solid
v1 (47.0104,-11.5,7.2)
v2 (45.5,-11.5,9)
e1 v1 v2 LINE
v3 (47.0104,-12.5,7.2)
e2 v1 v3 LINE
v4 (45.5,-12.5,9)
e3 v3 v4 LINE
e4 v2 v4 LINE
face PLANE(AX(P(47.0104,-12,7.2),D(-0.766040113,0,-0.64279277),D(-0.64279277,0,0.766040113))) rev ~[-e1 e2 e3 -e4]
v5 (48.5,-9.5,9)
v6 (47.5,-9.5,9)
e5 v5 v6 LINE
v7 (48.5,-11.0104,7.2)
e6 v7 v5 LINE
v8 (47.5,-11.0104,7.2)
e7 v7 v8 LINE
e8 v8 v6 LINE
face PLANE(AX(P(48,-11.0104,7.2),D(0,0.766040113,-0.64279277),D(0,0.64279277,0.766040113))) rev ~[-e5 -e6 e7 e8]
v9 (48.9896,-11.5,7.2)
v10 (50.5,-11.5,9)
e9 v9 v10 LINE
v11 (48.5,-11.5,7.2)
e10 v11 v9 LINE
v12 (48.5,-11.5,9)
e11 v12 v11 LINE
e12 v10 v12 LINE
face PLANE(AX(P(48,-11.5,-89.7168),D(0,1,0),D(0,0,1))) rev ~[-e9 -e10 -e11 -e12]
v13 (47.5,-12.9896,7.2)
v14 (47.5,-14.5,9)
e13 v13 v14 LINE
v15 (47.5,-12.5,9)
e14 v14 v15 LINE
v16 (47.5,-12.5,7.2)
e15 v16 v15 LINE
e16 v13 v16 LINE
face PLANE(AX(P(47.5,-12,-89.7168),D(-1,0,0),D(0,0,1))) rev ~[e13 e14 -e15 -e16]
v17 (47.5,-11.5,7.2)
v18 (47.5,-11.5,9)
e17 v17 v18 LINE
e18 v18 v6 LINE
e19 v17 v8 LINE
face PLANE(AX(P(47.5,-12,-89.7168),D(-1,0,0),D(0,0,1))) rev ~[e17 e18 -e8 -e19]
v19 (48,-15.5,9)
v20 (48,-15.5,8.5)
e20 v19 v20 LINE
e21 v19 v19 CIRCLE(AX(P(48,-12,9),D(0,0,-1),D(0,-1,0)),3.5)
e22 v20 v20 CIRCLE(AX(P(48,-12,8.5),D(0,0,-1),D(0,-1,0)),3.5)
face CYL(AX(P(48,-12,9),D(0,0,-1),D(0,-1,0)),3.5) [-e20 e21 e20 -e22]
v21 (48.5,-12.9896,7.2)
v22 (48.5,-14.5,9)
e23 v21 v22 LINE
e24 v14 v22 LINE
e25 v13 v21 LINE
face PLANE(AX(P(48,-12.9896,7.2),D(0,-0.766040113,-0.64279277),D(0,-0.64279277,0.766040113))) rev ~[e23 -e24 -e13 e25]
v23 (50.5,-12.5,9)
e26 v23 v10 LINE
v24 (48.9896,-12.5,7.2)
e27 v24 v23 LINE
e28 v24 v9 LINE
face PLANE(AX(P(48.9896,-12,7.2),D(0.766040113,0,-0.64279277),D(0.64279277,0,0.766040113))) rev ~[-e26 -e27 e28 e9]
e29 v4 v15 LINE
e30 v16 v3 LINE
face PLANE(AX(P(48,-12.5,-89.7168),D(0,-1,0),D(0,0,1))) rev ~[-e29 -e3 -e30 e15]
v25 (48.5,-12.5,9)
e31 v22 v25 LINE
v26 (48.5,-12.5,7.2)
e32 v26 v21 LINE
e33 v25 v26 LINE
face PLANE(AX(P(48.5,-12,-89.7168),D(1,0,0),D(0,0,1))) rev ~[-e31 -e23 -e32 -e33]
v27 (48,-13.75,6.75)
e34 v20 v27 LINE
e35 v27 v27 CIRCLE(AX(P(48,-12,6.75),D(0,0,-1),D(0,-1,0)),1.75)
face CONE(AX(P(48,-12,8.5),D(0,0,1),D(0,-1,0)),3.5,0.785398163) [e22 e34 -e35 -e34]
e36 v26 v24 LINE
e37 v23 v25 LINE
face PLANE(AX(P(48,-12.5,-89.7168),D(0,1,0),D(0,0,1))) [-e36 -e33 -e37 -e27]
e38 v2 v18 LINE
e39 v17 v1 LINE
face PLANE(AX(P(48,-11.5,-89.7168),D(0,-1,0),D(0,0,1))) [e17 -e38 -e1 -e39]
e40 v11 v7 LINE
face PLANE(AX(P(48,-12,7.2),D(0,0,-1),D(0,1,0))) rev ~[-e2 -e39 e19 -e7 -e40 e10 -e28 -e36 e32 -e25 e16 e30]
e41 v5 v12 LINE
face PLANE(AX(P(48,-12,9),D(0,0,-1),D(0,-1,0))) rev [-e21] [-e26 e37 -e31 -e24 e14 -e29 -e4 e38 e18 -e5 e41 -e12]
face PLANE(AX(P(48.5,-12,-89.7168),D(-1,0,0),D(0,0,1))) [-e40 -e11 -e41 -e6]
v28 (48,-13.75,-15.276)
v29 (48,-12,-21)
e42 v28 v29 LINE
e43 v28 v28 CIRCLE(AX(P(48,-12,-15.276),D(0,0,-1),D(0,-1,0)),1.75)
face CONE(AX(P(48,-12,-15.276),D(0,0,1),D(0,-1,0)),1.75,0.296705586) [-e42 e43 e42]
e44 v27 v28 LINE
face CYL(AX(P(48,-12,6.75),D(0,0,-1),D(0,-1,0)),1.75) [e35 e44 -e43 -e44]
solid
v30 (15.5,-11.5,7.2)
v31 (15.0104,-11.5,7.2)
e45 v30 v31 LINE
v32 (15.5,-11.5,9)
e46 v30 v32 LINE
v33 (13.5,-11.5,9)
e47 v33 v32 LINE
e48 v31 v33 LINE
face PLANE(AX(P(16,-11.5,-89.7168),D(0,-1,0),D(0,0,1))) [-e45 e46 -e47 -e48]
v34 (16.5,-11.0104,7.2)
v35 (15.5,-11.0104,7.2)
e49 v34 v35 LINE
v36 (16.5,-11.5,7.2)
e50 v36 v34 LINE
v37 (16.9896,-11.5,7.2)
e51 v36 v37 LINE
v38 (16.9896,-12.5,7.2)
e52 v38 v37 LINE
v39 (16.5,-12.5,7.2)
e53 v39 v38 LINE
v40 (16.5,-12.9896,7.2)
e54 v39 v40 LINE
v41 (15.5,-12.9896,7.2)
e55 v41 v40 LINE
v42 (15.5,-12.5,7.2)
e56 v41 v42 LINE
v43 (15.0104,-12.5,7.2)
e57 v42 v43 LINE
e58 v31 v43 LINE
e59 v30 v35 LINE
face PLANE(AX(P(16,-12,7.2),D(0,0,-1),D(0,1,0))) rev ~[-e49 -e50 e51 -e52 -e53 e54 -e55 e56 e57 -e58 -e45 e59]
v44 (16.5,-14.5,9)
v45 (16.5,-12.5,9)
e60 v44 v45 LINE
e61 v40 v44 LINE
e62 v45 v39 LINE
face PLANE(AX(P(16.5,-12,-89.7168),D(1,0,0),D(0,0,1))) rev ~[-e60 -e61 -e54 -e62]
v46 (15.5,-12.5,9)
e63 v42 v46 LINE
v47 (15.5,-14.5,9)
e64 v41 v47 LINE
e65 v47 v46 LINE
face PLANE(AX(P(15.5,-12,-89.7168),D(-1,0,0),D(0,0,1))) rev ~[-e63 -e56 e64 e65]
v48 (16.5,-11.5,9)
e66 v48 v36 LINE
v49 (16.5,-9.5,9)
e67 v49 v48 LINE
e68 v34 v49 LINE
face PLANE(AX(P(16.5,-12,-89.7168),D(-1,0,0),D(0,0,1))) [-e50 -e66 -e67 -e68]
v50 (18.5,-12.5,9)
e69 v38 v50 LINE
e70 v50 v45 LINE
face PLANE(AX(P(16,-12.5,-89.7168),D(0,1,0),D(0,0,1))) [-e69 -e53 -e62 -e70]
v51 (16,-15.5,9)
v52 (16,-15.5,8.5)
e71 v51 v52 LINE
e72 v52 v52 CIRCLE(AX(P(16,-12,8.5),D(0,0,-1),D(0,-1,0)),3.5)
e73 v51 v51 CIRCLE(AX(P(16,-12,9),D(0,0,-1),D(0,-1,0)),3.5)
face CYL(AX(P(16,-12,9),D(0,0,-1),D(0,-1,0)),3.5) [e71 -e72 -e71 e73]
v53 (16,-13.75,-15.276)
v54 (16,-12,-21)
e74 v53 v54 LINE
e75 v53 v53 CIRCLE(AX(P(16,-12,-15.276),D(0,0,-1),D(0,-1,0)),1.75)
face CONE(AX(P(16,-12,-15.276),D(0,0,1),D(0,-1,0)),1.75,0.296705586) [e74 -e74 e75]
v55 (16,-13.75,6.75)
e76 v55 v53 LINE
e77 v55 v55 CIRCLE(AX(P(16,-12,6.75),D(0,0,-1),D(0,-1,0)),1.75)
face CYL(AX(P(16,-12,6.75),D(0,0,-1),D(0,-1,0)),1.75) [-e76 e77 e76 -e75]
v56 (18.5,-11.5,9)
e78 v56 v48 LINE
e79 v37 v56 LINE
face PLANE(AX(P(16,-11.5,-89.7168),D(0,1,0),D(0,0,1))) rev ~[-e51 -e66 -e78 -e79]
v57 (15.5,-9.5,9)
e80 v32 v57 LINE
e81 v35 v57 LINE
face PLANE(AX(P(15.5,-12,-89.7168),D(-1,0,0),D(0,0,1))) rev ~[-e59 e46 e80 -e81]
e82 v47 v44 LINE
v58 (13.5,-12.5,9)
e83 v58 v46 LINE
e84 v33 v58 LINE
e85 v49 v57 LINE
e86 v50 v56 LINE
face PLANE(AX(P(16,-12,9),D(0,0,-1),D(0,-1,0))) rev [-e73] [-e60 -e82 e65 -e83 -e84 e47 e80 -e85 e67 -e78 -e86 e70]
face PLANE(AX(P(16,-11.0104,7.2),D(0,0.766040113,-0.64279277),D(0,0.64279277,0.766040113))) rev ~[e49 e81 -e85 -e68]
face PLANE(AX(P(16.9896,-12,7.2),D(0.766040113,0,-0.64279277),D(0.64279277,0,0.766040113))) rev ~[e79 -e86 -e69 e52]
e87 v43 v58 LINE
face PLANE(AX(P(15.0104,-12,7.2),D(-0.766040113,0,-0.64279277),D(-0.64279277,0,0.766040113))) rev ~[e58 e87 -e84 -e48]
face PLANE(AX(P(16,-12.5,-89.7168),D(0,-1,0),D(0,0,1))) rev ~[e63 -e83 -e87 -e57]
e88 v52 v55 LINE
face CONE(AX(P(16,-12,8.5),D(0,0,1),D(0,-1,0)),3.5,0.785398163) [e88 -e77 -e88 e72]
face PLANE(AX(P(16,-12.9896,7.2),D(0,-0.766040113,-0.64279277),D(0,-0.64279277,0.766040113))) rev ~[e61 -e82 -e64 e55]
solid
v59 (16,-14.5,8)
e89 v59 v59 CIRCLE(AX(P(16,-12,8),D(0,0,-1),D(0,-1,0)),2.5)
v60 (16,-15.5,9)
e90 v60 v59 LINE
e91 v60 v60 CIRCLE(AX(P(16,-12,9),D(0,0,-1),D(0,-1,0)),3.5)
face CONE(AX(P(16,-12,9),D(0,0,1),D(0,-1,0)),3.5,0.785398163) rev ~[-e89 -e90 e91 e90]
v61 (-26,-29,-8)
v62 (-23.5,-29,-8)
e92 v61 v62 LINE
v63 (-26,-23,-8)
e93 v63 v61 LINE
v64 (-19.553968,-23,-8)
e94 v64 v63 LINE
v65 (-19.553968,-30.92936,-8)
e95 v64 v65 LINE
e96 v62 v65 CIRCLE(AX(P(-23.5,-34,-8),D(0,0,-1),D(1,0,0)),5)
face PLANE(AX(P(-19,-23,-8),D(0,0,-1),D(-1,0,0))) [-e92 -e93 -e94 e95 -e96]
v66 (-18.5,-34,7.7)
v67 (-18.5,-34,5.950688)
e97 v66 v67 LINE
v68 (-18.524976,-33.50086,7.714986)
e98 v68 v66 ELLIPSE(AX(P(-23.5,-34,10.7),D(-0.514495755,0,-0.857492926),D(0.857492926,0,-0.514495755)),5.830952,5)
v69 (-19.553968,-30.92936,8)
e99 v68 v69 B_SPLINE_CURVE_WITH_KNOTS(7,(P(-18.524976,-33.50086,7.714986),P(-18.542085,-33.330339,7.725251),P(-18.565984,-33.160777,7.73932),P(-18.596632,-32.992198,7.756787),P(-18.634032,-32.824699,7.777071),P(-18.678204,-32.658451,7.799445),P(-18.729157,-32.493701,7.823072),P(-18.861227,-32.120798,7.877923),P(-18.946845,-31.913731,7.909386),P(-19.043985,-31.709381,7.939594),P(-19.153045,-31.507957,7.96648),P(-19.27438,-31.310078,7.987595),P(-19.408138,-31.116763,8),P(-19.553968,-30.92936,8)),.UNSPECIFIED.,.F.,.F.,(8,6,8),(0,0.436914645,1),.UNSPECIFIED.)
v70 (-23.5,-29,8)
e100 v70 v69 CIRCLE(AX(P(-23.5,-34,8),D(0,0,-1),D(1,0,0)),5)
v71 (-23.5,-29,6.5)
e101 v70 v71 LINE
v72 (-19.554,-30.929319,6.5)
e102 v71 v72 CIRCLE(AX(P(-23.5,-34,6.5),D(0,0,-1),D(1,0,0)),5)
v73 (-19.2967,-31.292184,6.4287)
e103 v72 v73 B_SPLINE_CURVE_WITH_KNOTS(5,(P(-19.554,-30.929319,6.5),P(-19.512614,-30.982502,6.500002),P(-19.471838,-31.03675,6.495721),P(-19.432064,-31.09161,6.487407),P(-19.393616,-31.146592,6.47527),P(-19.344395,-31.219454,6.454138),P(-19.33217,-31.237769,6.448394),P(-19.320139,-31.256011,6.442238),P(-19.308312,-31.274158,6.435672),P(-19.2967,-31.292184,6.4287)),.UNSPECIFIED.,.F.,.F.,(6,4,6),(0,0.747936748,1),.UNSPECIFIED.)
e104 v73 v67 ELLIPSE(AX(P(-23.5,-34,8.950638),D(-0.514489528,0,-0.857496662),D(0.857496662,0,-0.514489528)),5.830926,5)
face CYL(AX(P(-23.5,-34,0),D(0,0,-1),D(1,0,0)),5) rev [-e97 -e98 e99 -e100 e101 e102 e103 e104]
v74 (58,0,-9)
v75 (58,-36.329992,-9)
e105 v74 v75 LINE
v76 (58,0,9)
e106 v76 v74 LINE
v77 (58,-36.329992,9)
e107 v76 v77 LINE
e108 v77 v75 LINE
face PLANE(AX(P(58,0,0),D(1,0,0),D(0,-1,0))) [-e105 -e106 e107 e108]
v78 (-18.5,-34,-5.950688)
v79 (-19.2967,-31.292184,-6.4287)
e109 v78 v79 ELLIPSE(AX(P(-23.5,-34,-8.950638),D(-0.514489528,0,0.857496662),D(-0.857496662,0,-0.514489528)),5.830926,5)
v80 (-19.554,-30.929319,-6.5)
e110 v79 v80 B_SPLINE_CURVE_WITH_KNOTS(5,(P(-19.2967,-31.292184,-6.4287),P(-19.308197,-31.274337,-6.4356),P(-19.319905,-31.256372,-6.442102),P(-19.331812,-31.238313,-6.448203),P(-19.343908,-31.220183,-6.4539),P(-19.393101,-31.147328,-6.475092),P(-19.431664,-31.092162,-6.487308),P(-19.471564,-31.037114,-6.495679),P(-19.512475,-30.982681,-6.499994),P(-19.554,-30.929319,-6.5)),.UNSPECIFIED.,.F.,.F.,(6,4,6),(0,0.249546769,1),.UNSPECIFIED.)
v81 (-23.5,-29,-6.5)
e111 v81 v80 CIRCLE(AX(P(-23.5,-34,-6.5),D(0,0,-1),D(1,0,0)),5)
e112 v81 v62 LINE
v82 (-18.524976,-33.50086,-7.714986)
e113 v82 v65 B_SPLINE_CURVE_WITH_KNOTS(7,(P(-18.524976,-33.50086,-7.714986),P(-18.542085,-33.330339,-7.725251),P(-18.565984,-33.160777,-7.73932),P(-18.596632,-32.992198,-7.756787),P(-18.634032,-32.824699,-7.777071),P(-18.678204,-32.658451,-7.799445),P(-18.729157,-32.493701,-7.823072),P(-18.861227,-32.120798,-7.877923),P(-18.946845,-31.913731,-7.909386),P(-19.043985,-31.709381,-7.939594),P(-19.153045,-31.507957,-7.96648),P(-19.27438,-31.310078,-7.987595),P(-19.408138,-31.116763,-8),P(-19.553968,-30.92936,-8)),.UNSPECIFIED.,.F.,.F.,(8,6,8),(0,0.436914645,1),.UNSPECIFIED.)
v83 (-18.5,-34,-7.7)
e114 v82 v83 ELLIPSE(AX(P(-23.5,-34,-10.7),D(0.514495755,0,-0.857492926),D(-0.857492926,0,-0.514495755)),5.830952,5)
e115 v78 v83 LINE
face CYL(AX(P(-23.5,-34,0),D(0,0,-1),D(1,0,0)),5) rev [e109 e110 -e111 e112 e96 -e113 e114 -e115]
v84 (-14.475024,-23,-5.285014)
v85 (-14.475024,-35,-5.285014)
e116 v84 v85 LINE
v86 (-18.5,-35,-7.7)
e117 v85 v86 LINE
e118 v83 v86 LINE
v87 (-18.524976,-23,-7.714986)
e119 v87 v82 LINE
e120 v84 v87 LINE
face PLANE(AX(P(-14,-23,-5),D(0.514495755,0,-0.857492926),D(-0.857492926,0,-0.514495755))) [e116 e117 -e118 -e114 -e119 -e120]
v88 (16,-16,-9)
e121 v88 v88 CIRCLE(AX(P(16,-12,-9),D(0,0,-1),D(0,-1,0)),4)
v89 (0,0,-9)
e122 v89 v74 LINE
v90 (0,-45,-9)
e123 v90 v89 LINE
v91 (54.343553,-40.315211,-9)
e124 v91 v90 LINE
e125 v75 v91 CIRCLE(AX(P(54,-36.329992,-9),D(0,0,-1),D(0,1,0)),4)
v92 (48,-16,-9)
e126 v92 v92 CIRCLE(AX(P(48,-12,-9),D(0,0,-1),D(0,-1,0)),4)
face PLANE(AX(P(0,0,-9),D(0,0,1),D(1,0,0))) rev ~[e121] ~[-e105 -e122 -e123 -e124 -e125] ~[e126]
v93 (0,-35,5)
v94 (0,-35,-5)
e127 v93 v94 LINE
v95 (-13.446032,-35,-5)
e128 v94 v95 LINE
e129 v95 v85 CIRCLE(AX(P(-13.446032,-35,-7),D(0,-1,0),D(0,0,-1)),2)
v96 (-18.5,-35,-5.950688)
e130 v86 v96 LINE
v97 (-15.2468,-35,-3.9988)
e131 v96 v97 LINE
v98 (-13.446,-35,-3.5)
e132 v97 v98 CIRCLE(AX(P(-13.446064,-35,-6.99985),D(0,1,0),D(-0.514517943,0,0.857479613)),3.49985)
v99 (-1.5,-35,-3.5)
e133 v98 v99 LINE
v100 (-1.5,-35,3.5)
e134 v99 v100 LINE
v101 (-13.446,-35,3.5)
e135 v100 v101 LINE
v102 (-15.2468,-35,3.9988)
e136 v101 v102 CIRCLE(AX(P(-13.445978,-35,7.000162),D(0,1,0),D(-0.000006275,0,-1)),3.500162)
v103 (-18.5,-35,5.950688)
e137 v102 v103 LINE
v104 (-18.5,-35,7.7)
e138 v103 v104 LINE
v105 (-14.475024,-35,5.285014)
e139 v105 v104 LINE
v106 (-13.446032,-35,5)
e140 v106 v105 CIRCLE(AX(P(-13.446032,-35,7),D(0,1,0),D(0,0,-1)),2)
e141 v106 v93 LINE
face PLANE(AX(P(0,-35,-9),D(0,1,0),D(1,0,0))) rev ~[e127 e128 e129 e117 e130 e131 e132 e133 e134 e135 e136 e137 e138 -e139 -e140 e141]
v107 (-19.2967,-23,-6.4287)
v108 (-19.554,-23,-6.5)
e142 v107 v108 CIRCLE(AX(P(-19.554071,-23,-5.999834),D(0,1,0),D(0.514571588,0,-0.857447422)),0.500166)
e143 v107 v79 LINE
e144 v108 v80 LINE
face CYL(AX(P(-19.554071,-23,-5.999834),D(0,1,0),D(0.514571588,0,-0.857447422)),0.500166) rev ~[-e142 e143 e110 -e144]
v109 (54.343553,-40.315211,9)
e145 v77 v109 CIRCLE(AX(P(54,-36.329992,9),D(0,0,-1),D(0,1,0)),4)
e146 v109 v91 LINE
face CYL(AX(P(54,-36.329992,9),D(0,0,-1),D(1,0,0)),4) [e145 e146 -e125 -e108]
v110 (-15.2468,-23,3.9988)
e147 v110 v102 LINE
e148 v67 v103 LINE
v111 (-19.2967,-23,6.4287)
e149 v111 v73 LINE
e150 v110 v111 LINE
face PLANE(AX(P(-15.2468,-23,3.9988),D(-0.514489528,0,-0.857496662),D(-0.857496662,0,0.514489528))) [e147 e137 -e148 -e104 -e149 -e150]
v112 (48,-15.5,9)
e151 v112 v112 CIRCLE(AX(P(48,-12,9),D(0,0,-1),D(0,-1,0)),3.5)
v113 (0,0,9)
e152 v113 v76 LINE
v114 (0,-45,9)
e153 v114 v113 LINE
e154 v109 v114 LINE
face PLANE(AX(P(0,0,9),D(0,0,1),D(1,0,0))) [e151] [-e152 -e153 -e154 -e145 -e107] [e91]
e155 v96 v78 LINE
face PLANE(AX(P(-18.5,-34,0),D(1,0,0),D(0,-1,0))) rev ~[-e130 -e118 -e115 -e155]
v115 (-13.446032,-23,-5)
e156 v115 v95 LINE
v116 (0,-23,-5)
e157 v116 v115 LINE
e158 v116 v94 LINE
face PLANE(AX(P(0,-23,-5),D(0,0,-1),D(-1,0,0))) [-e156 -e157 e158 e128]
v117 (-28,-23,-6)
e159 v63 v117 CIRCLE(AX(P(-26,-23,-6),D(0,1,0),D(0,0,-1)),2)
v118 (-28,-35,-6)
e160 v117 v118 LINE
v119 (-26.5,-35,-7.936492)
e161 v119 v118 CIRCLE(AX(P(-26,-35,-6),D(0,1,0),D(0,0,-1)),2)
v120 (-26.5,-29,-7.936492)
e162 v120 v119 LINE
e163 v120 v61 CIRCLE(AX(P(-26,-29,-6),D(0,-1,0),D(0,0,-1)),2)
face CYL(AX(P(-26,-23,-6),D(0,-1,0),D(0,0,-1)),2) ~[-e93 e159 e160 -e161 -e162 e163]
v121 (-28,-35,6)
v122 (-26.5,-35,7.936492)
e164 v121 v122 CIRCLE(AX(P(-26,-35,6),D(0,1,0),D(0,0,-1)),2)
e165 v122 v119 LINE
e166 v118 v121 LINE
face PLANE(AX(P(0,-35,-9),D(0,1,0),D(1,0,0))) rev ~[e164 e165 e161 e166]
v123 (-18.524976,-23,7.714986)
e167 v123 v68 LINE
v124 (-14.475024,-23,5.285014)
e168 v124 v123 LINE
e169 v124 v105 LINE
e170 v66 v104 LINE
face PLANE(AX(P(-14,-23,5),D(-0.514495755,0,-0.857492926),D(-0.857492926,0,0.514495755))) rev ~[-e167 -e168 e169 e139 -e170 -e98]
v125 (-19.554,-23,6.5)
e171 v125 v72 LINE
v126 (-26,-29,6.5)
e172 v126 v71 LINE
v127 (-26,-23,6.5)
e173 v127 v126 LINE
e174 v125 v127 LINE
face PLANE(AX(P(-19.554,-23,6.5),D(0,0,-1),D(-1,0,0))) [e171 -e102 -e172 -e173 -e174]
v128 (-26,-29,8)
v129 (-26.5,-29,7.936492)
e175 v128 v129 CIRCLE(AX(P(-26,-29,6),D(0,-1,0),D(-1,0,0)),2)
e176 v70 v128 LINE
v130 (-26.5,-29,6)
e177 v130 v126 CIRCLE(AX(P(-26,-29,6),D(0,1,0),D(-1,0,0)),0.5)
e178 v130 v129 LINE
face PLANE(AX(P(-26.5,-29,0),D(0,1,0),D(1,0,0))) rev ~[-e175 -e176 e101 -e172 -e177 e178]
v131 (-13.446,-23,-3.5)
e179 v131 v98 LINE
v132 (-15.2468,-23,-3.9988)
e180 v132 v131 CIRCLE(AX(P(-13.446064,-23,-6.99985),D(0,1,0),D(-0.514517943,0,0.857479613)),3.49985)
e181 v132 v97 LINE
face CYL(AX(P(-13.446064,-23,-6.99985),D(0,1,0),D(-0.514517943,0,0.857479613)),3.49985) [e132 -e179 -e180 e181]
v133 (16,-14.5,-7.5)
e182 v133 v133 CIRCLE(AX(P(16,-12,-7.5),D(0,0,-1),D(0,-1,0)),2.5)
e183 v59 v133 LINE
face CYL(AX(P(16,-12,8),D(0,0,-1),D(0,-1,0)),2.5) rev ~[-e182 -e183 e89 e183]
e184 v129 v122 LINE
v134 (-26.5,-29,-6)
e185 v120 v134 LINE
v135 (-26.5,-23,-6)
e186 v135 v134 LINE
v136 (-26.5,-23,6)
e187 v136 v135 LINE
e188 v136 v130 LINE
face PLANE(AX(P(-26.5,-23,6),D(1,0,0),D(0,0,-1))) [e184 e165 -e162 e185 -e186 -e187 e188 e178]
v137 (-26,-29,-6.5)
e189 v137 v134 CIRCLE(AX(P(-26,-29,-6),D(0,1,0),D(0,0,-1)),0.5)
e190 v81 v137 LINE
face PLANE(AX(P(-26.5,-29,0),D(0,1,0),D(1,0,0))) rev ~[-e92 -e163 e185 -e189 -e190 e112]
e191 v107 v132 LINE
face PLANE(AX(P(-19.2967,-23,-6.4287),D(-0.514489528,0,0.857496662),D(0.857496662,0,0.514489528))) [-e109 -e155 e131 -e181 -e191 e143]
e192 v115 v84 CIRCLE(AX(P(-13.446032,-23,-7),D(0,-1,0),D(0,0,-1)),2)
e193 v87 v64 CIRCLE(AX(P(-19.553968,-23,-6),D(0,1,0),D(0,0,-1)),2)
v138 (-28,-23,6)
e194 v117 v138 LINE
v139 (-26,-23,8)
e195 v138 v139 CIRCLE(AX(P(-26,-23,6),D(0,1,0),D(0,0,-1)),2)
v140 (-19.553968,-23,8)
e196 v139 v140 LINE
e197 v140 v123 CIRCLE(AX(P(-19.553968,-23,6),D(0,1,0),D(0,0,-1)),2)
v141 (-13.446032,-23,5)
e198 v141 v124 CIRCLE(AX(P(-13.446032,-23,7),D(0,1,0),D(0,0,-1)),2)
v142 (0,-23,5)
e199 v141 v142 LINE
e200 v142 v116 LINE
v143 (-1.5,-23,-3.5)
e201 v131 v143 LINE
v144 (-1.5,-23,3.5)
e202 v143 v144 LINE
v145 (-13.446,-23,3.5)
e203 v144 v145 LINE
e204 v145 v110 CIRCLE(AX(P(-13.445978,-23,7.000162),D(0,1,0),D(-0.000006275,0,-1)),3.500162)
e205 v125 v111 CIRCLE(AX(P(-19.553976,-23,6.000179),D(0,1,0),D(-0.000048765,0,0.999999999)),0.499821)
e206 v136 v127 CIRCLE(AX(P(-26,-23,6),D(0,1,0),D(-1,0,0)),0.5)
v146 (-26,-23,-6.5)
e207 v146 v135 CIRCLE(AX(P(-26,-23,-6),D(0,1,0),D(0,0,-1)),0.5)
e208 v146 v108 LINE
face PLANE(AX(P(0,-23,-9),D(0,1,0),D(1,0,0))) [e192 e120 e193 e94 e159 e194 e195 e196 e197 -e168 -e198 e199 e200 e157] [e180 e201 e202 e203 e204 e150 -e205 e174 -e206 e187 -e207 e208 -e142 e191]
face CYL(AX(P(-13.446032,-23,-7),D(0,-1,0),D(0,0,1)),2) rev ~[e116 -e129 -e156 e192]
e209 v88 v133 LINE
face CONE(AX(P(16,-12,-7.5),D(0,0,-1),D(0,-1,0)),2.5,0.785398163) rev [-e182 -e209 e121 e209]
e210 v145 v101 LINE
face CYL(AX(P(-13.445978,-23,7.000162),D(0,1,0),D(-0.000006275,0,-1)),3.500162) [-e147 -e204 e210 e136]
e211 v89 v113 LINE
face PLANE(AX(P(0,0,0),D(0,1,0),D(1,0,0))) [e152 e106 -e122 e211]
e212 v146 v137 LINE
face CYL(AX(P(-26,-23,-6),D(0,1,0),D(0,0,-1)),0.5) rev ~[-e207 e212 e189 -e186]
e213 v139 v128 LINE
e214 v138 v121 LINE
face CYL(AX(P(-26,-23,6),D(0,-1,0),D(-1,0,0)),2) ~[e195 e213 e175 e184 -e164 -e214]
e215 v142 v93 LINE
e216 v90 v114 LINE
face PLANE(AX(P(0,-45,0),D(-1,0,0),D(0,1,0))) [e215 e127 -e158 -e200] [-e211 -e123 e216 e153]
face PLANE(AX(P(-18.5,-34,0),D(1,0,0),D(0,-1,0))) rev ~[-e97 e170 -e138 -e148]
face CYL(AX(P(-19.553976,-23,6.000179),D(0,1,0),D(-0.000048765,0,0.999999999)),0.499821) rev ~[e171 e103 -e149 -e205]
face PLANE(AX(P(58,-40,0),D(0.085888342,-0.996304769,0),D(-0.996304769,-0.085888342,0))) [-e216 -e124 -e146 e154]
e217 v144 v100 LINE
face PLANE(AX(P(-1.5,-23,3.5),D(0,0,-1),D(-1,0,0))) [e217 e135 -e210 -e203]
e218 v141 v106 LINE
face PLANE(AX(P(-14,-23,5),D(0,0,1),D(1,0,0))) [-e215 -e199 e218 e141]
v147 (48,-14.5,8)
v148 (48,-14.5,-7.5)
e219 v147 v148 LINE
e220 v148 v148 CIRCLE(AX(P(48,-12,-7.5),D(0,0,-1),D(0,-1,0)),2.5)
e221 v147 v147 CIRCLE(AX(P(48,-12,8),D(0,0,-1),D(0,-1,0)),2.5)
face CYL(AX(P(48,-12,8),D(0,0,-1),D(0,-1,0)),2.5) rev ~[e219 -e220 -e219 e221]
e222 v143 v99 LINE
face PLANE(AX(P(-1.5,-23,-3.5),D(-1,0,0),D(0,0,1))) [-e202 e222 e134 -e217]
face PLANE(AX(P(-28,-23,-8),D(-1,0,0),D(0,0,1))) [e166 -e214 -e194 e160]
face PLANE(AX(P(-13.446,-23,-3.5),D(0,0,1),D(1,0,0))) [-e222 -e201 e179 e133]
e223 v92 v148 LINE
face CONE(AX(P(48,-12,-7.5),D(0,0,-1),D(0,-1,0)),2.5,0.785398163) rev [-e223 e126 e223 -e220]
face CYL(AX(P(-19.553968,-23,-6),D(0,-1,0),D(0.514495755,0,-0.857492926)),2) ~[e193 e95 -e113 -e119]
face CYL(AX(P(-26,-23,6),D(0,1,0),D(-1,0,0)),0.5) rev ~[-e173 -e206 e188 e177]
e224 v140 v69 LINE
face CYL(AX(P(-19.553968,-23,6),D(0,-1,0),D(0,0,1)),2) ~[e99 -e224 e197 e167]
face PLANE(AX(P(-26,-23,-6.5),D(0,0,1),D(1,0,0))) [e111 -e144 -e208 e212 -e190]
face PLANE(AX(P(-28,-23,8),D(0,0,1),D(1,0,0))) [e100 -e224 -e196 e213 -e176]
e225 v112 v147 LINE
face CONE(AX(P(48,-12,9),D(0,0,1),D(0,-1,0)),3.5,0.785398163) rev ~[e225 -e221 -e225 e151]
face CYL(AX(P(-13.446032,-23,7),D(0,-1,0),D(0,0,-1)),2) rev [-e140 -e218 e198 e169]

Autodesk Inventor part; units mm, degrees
ref_plane "YZ Plane" through (0, 0, 0) normal (1, 0, 0) x (0, 1, 0)
sketch "Sketch1" plane through (0, 0, 0) normal (0, 0, 1) x (1, 0, 0)
  line L0 (0, 0) -> (58, 0)
  line L1 (58, 0) -> (58, -40)
  line L2 (58, -40) -> (0, -45)
  line L3 (0, -45) -> (0, 0)
  dimension "d0" = 45
  dimension "d1" = 58
  dimension "d2" = 40
extrude "Extrusion1" add sketch "Sketch1" along normal mid plane 18
ref_plane "Work Plane1" through (0, -23, -9) normal (0, 1, 0) x (1, 0, 0)
sketch "Sketch2" plane through (0, -23, -9) normal (0, 1, 0) x (1, 0, 0)
  line L0 (0, -4) -> (-14, -4)
  line L1 (-14, -4) -> (-14, -14)
  line L2 (-14, -14) -> (0, -14)
  line L3 (0, -14) -> (0, -4)
  line L4 (-19, -1) -> (-28, -1)
  line L5 (-28, -1) -> (-28, -17)
  line L6 (-28, -17) -> (-19, -17)
  line L7 (-19, -17) -> (-19, -1)
  line L8 (-14, -4) -> (-19, -1)
  line L9 (-14, -14) -> (-19, -17)
  line L10 (0, 0) -> (0, -18) projected
  point P0 (0, -9)
  point P1 (0, -9)
  point P2 (-28, -9)
  point P3 (0, -9)
  dimension "d181" = 90
  dimension "d6" = 14
  dimension "d8" = 16
  dimension "d9" = 10
  dimension "d10" = 9
  dimension "d40" = 5
extrude "Extrusion2" add sketch "Sketch2" against normal blind 12
fillet "Fillet1" radius 2 6 edges at (-28, -29, -8) (-28, -29, 8) (-19, -29, -8) (-14, -29, -5) (-14, -29, 5) (-19, -29, 8)
sketch "Sketch5" plane through (0, -23, -9) normal (0, 1, 0) x (1, 0, 0)
  arc A0 (-19.554, -17) -> (-18.525, -16.715) centre (-19.554, -15) ccw projected
  line L0 (-18.525, -16.715) -> (-14.475, -14.285) projected
  arc A1 (-13.446, -14) -> (-14.475, -14.285) centre (-13.446, -16) ccw projected
  line L1 (-13.446, -14) -> (0, -14) projected
  line L2 (0, -4) -> (0, -14) projected
  line L3 (0, -4) -> (-13.446, -4) projected
  arc A2 (-14.475, -3.715) -> (-13.446, -4) centre (-13.446, -2) ccw projected
  line L4 (-14.475, -3.715) -> (-18.525, -1.285) projected
  arc A3 (-18.525, -1.285) -> (-19.554, -1) centre (-19.554, -3) ccw projected
  line L5 (-19.554, -1) -> (-26, -1) projected
  arc A4 (-26, -1) -> (-28, -3) centre (-26, -3) ccw projected
  line L6 (-28, -3) -> (-28, -15) projected
  arc A5 (-28, -15) -> (-26, -17) centre (-26, -15) ccw projected
  line L7 (-26, -17) -> (-19.554, -17) projected
  line L8 (-26, -2.5) -> (-19.554, -2.5)
  arc A6 (-19.2967, -2.5713) -> (-19.554, -2.5) centre (-19.554, -3) ccw
  line L9 (-19.2967, -2.5713) -> (-15.2468, -5.0012)
  arc A7 (-15.2468, -5.0012) -> (-13.446, -5.5) centre (-13.446, -2) ccw
  line L10 (-13.446, -5.5) -> (-1.5, -5.5)
  line L11 (-1.5, -5.5) -> (-1.5, -12.5)
  line L12 (-1.5, -12.5) -> (-13.446, -12.5)
  arc A8 (-13.446, -12.5) -> (-15.2468, -12.9988) centre (-13.446, -16) ccw
  line L13 (-15.2468, -12.9988) -> (-19.2967, -15.4287)
  arc A9 (-19.554, -15.5) -> (-19.2967, -15.4287) centre (-19.554, -15) ccw
  line L14 (-19.554, -15.5) -> (-26, -15.5)
  arc A10 (-26.5, -15) -> (-26, -15.5) centre (-26, -15) ccw
  line L15 (-26.5, -15) -> (-26.5, -3)
  arc A11 (-26, -2.5) -> (-26.5, -3) centre (-26, -3) ccw
  point P0 (0, -9)
  dimension "d18" = 1.5
extrude "Extrusion4" cut sketch "Sketch5" against normal through all contours L8 A6 L9 A7 L10 L11 L12 A8 L13 A9 L14 A10 L15 A11
sketch "Sketch4" plane through (0, 0, 0) normal (0, 0, 1) x (1, 0, 0)
  line L0 (-26.5, -23) -> (-26.5, -35) projected
  line L1 (-26.5, -29) -> (-23.5, -29)
  arc A0 (-18.5, -34) -> (-23.5, -29) centre (-23.5, -34) ccw
  line L2 (-18.5, -34) -> (-18.5, -35)
  line L3 (-18.5, -35) -> (-26.5, -35)
  line L4 (-26.5, -35) -> (-26.5, -29)
  line L5 (-26, -23) -> (-19.554, -23) projected
  point P0 (0, 0)
  dimension "d21" = 6
  dimension "d22" = 8
  dimension "d23" = 5
extrude "Extrusion5" cut sketch "Sketch4" along normal through all both and the other way through all
sketch "Sketch6" plane through (0, 0, 9) normal (0, 0, 1) x (1, 0, 0)
  line L0 (0, 0) -> (58, 0) projected
  line L1 (0, -45) -> (0, 0) projected
  line L2 (16, -12) -> (48, -12)
  dimension "d26" = 12
  dimension "d27" = 32
  dimension "d28" = 16
hole "Hole1" at (16, -12, 9) at (48, -12, 9) direction (0, 0, -1) diameter 5 end through all countersink diameter 7 countersink angle 90
chamfer "Chamfer1" distance 1.5 angle 45 2 edges at (16, -9.5, -9) (48, -9.5, -9)
fillet "Fillet2" radius 4 1 edges at (58, -40, 0)
ref_plane "Work Plane2" through (16, -12, -89.7168) normal (-1, 0, 0) x (0, 0, 1)
sketch "Sketch7" plane through (16, -12, -89.7168) normal (-1, 0, 0) x (0, 0, 1)
  line L0 (98.7168, 3.5) -> (98.7168, -3.5) projected
  line L1 (98.7168, -4.2) -> (98.7168, 0.7) construction
  line L2 (102.1168, 0) -> (68.7168, 0)
  line L3 (98.7168, 0) -> (98.7168, -3.5)
  line L4 (98.7168, -3.5) -> (98.2168, -3.5)
  line L5 (98.2168, -3.5) -> (96.4668, -1.75)
  line L6 (96.4668, -1.75) -> (74.4408, -1.75)
  line L7 (74.4408, -1.75) -> (68.7168, 0)
  point P0 (89.7168, 12)
  point P1 (74.4408, 0)
  dimension "d42" = 3.5
  dimension "d43" = 7
  dimension "d44" = 0.5
  dimension "d45" = 45
  dimension "d46" = 30
  dimension "d47" = 17
  dimension "d48" = 22.026
revolve "Revolution1" add sketch "Sketch7" angle 360 about axis through (16, -12, 12.4) along (0, 0, -1) separate body
sketch "Sketch8" plane through (16, -12, -89.7168) normal (-1, 0, 0) x (0, 0, 1)
  line L0 (98.7168, 3.5) -> (98.7168, -3.5) projected
  line L1 (96.5568, 0) -> (99.0768, 0)
  line L2 (96.9168, 0) -> (96.9168, 0.9896)
  line L3 (96.9168, 0.9896) -> (98.7168, 2.5)
  line L4 (98.7168, 2.5) -> (98.7168, 0)
  line L5 (98.7168, 3.5) -> (98.7168, -3.5)
  point P0 (89.7168, 12)
  dimension "d50" = 40
  dimension "d51" = 1.8
  dimension "d52" = 2.5
extrude "Extrusion6" cut sketch "Sketch8" along normal mid plane 1 bodies 2
pattern_circular "Circular Pattern1" count 4 over 360 about axis through (16, -12, -4.263) along (0, 0, -1) of "Extrusion6" bodies 2
thread "Thread1" size "M4x0.7" class "6g" standard "ANSI Metric M Profile" full length
pattern_linear "Rectangular Pattern1" count 2 spacing 32 along (1, 0, 0) bodies 2
sketch "Sketch9" plane through (16, -12, -89.7168) normal (-1, 0, 0) x (0, 0, 1)
  line L0 (80.7168, -3.5) -> (80.7168, 3.5)
  line L1 (80.7168, 4.2) -> (80.7168, -0.7) construction
  line L2 (77.3168, 0) -> (110.7168, 0)
  line L3 (80.7168, 0) -> (80.7168, 3.5)
  line L4 (80.7168, 3.5) -> (81.2168, 3.5)
  line L5 (81.2168, 3.5) -> (82.9668, 1.75)
  line L6 (82.9668, 1.75) -> (104.9928, 1.75)
  line L7 (104.9928, 1.75) -> (110.7168, 0)
  line L8 (80.7168, 4) -> (80.7168, -4) projected
  point P0 (89.7168, 12)
  point P1 (89.7168, 12)
  point P2 (104.9928, 0)
  point P3 (80.7168, 0)
  dimension "d64" = 3.5
  dimension "d65" = 7
  dimension "d66" = 0.5
  dimension "d67" = 45
  dimension "d68" = 30
  dimension "d69" = 17
  dimension "d70" = 22.026
revolve "Revolution2" [suppressed]
sketch "Sketch10" plane through (16, -12, -89.7168) normal (-1, 0, 0) x (0, 0, 1)
  line L0 (82.8768, 0) -> (80.3568, 0)
  line L1 (82.5168, 0) -> (82.5168, -0.9896)
  line L2 (82.5168, -0.9896) -> (80.7168, -2.5)
  line L3 (80.7168, -2.5) -> (80.7168, 0)
  line L4 (80.7168, -3.5) -> (80.7168, 3.5) projected
  point P0 (89.7168, 12)
  point P1 (80.7168, -3.5)
  point P2 (80.7168, 0)
  point P3 (80.7168, -3.5)
  dimension "d72" = 40
  dimension "d73" = 1.8
  dimension "d74" = 2.5
extrude "Extrusion7" [suppressed]
pattern_circular "Circular Pattern2" [suppressed]
thread "Thread2" size "M4x0.7" class "6g" standard "ANSI Metric M Profile" full length
pattern_linear "Rectangular Pattern2" [suppressed]
sketch "Sketch11" plane through (0, 0, 0) normal (0, 0, 1) x (1, 0, 0)
  line L0 (-30.5, -54) -> (-30.5, -41)
  arc A0 (-28.5, -39) -> (-30.5, -41) centre (-28.5, -41) ccw
  arc A1 (-28.5, -39) -> (-24.5, -35) centre (-28.5, -35) ccw
  line L1 (-24.5, -35) -> (-24.5, -27)
  line L2 (-24.5, -27) -> (-26.5, -27)
  line L3 (-26.5, -27) -> (-26.5, -35)
  arc A2 (-28.5, -37) -> (-26.5, -35) centre (-28.5, -35) ccw
  arc A3 (-28.5, -37) -> (-32.5, -41) centre (-28.5, -41) ccw
  line L4 (-32.5, -41) -> (-32.5, -54)
  arc A4 (-32.5, -54) -> (-28.5, -58) centre (-28.5, -54) ccw
  line L5 (-28.5, -58) -> (-26.5, -58)
  line L6 (-26.5, -58) -> (-26.5, -56)
  line L7 (-26.5, -56) -> (-28.5, -56)
  arc A5 (-30.5, -54) -> (-28.5, -56) centre (-28.5, -54) ccw
  line L8 (-28, -23) -> (-28, -35) projected
  line L9 (-26, -23) -> (-19.554, -23) projected
  point P0 (0, 0)
  point P1 (-32.5, -37)
  point P2 (-26.5, -27)
  dimension "d86" = 1.5
  dimension "d87" = 4
extrude "Extrusion8" [suppressed]
sketch "Sketch12" plane through (-24.5, -35, 9) normal (1, 0, 0) x (0, 0, -1)
  line L0 (0, 8) -> (125, 8) projected
  line L1 (125, 8) -> (125, 0) projected
  line L2 (3, 8) -> (122, 8)
  line L3 (122, 8) -> (122, 6)
  line L4 (122, 6) -> (3, 6)
  line L5 (3, 6) -> (3, 8)
  line L6 (0, -23) -> (125, -23) projected
  line L7 (122, 8) -> (120, 6)
  line L8 (3, 8) -> (5, 6)
  point P0 (9, 35)
  point P1 (62.5, 8)
  point P2 (62.5, -23)
  point P3 (62.5, 6)
  dimension "d92" = 2
  dimension "d93" = 3
  dimension "d94" = 2
  dimension "d95" = 2
extrude "Extrusion9" [suppressed]
sketch "Sketch14" plane through (-30.5, -54, 9) normal (1, 0, 0) x (0, 0, -1)
  line L0 (0, 0) -> (0, 13) projected
  line L1 (125, 13) -> (125, 0) projected
  line L2 (62.5, -3.9613) -> (62.5, 48.6353) construction
  line L3 (0, -4) -> (125, -4) projected
  line L4 (0, 13) -> (0, 0)
  line L5 (49.5, 10.5) -> (39.5, 10.5)
  line L6 (39.5, 2.5) -> (49.5, 2.5)
  arc A0 (39.5, 10.5) -> (39.5, 2.5) centre (39.5, 6.5) ccw
  arc A1 (49.5, 2.5) -> (49.5, 10.5) centre (49.5, 6.5) ccw
  line L7 (35.5, 10.5) -> (53.5, 10.5) construction
  line L8 (53.5, 10.5) -> (53.5, 2.5) construction
  line L9 (53.5, 2.5) -> (35.5, 2.5) construction
  line L10 (35.5, 2.5) -> (35.5, 10.5) construction
  line L11 (62.5, -17.1) -> (62.5, 26.3) construction
  circle A2 centre (28.5, 6.5) radius 3
  line L12 (28.5, 6.5) -> (28.5, 32.5416) construction
  line L13 (21.5, 2.5) -> (21.5, 10.5) construction
  arc A3 (17.5, 2.5) -> (17.5, 10.5) centre (17.5, 6.5) ccw
  line L14 (7.5, 10.5) -> (17.5, 10.5)
  line L15 (3.5, 10.5) -> (3.5, 2.5) construction
  line L16 (21.5, 10.5) -> (3.5, 10.5) construction
  line L17 (3.5, 2.5) -> (21.5, 2.5) construction
  arc A4 (7.5, 10.5) -> (7.5, 2.5) centre (7.5, 6.5) ccw
  line L18 (17.5, 2.5) -> (7.5, 2.5)
  line L19 (71.5, 10.5) -> (71.5, 2.5) construction
  arc A5 (75.5, 10.5) -> (75.5, 2.5) centre (75.5, 6.5) ccw
  line L20 (75.5, 10.5) -> (85.5, 10.5)
  line L21 (85.5, 2.5) -> (75.5, 2.5)
  line L22 (89.5, 10.5) -> (71.5, 10.5) construction
  line L23 (71.5, 2.5) -> (89.5, 2.5) construction
  arc A6 (85.5, 2.5) -> (85.5, 10.5) centre (85.5, 6.5) ccw
  line L24 (89.5, 2.5) -> (89.5, 10.5) construction
  circle A7 centre (96.5, 6.5) radius 3
  line L25 (107.5, 2.5) -> (117.5, 2.5)
  line L26 (117.5, 10.5) -> (107.5, 10.5)
  line L27 (121.5, 2.5) -> (103.5, 2.5) construction
  arc A8 (117.5, 2.5) -> (117.5, 10.5) centre (117.5, 6.5) ccw
  line L28 (103.5, 10.5) -> (121.5, 10.5) construction
  line L29 (103.5, 2.5) -> (103.5, 10.5) construction
  arc A9 (107.5, 10.5) -> (107.5, 2.5) centre (107.5, 6.5) ccw
  line L30 (121.5, 10.5) -> (121.5, 2.5) construction
  point P0 (9, 54)
  point P1 (117.5, 6.5)
  point P2 (62.5, -4)
  point P3 (0, 6.5)
  dimension "d105" = 10.5
  dimension "d106" = 7.5
  dimension "d107" = 18
  dimension "d108" = 8
  dimension "d109" = 18
  dimension "d110" = 6
  dimension "d111" = 7
  dimension "d112" = 7.5
  dimension "d113" = 10.5
extrude "Extrusion10" [suppressed]
ref_plane "Work Plane4" through (-32.5, -47.5, -19.5) normal (0, 0, -1) x (1, 0, 0)
revolve "Revolution3" [suppressed]
sketch "Sketch16" plane through (-32.5, -47.5, -19.5) normal (0, 0, -1) x (1, 0, 0)
  line L0 (2, 5) -> (2, -5) projected
  line L1 (-0.16, 0) -> (2.36, 0)
  line L2 (0.2, 0) -> (0.2, 2.4896)
  line L3 (0.2, 2.4896) -> (2, 4)
  line L4 (2, 4) -> (2, 0)
  line L5 (2, 5) -> (2, -5)
  point P0 (32.5, -47.5)
  dimension "d125" = 40
  dimension "d126" = 1.8
  dimension "d127" = 4
extrude "Extrusion11" [suppressed]
pattern_circular "Circular Pattern3" [suppressed]
thread "Thread3" size "M5x0.8" class "6g" standard "ANSI Metric M Profile" length 35
pattern_linear "Rectangular Pattern3" [suppressed]
extrude "Extrusion12" [suppressed]
sketch "Sketch17" plane through (-24.5, -35, 116) normal (1, 0, 0) x (0, 0, -1)
  line L0 (0, 8) -> (125, 8) projected
  line L1 (0, 0) -> (0, 8) projected
  line L2 (125, 8) -> (125, 0) projected
  line L3 (3, 8) -> (122, 8)
  line L4 (122, 8) -> (122, 6)
  line L5 (122, 6) -> (3, 6)
  line L6 (3, 6) -> (3, 8)
  line L7 (122, 8) -> (120, 6)
  line L8 (3, 8) -> (5, 6)
  point P0 (116, 35)
  dimension "d143" = 3
  dimension "d144" = 2
  dimension "d145" = 2
  dimension "d146" = 2
  dimension "d147" = 3
extrude "Extrusion13" [suppressed]
sketch "Sketch18" plane through (-30.5, -54, 116) normal (1, 0, 0) x (0, 0, -1)
  line L0 (0, 0) -> (0, 13) projected
  line L1 (0, -4) -> (125, -4) projected
  line L2 (0, 13) -> (0, 0)
  line L3 (49.5, 10.5) -> (39.5, 10.5)
  line L4 (39.5, 2.5) -> (49.5, 2.5)
  arc A0 (39.5, 10.5) -> (39.5, 2.5) centre (39.5, 6.5) ccw
  arc A1 (49.5, 2.5) -> (49.5, 10.5) centre (49.5, 6.5) ccw
  line L5 (35.5, 10.5) -> (53.5, 10.5) construction
  line L6 (53.5, 10.5) -> (53.5, 2.5) construction
  line L7 (53.5, 2.5) -> (35.5, 2.5) construction
  line L8 (35.5, 2.5) -> (35.5, 10.5) construction
  line L9 (62.5, -17.1) -> (62.5, 26.3) construction
  circle A2 centre (28.5, 6.5) radius 3
  line L10 (28.5, 6.5) -> (28.5, 32.5416) construction
  line L11 (21.5, 2.5) -> (21.5, 10.5) construction
  arc A3 (17.5, 2.5) -> (17.5, 10.5) centre (17.5, 6.5) ccw
  line L12 (7.5, 10.5) -> (17.5, 10.5)
  line L13 (3.5, 10.5) -> (3.5, 2.5) construction
  line L14 (21.5, 10.5) -> (3.5, 10.5) construction
  line L15 (3.5, 2.5) -> (21.5, 2.5) construction
  arc A4 (7.5, 10.5) -> (7.5, 2.5) centre (7.5, 6.5) ccw
  line L16 (17.5, 2.5) -> (7.5, 2.5)
  line L17 (89.5, 2.5) -> (89.5, 10.5) construction
  circle A5 centre (96.5, 6.5) radius 3
  line L18 (103.5, 2.5) -> (103.5, 10.5) construction
  arc A6 (107.5, 10.5) -> (107.5, 2.5) centre (107.5, 6.5) ccw
  line L19 (117.5, 10.5) -> (107.5, 10.5)
  line L20 (107.5, 2.5) -> (117.5, 2.5)
  line L21 (103.5, 10.5) -> (121.5, 10.5) construction
  line L22 (121.5, 2.5) -> (103.5, 2.5) construction
  arc A7 (117.5, 2.5) -> (117.5, 10.5) centre (117.5, 6.5) ccw
  line L23 (121.5, 10.5) -> (121.5, 2.5) construction
  line L24 (75.5, 10.5) -> (85.5, 10.5)
  line L25 (85.5, 2.5) -> (75.5, 2.5)
  arc A8 (85.5, 2.5) -> (85.5, 10.5) centre (85.5, 6.5) ccw
  arc A9 (75.5, 10.5) -> (75.5, 2.5) centre (75.5, 6.5) ccw
  line L26 (89.5, 10.5) -> (71.5, 10.5) construction
  line L27 (71.5, 10.5) -> (71.5, 2.5) construction
  line L28 (71.5, 2.5) -> (89.5, 2.5) construction
  point P0 (116, 54)
  point P1 (62.5, -4)
  point P2 (0, 6.5)
  dimension "d150" = 7.5
  dimension "d151" = 10.5
  dimension "d152" = 18
  dimension "d153" = 8
  dimension "d154" = 18
  dimension "d155" = 6
  dimension "d156" = 7
extrude "Extrusion14" [suppressed]
ref_plane "Work Plane5" through (-30.5, -47.5, 87.5) normal (0, 0, 1) x (-1, 0, 0)
revolve "Revolution4" [suppressed]
sketch "Sketch21" plane through (-30.5, -47.5, 87.5) normal (0, 0, 1) x (-1, 0, 0)
  line L0 (2.16, 0) -> (-0.36, 0)
  line L1 (1.8, 0) -> (1.8, -2.4896)
  line L2 (1.8, -2.4896) -> (0, -4)
  line L3 (0, -4) -> (0, 0)
  line L4 (0, -5) -> (0, 5)
  line L5 (0, -3) -> (0, 3) projected
  point P0 (-30.5, -47.5)
  point P1 (0, 0)
  dimension "d182" = 40
  dimension "d183" = 1.8
  dimension "d184" = 4
extrude "Extrusion15" [suppressed]
pattern_circular "Circular Pattern4" [suppressed]
thread "Thread4" size "M5x0.8" class "6g" standard "ANSI Metric M Profile" length 35
pattern_linear "Rectangular Pattern4" [suppressed]
sketch "Sketch15" plane through (-32.5, -47.5, -19.5) normal (0, 0, -1) x (1, 0, 0)
  line L0 (2, -3.9337) -> (2, 0.9663) construction
  line L1 (2, 0) -> (-48, 0)
  line L2 (2, 0) -> (2, -5)
  line L3 (2, -5) -> (1.5, -5)
  line L4 (1.5, -5) -> (-1, -2.5)
  line L5 (-1, -2.5) -> (-39.8229, -2.5)
  line L6 (-39.8229, -2.5) -> (-48, 0)
  line L7 (2, 3) -> (2, -3) projected
  point P0 (32.5, -47.5)
  point P1 (2, 0)
  dimension "d3" = 18
  dimension "d4" = 0
  dimension "d117" = 5
  dimension "d118" = 10
  dimension "d119" = 0.5
  dimension "d120" = 45
  dimension "d121" = 50
  dimension "d122" = 17
  dimension "d123" = 38.8229
sketch "Sketch20" plane through (-30.5, -47.5, 87.5) normal (0, 0, 1) x (-1, 0, 0)
  line L0 (0, 3.9337) -> (0, -0.9663) construction
  line L1 (0, 0) -> (50, 0)
  line L2 (0, 0) -> (0, 5)
  line L3 (0, 5) -> (0.5, 5)
  line L4 (0.5, 5) -> (3, 2.5)
  line L5 (3, 2.5) -> (41.8229, 2.5)
  line L6 (41.8229, 2.5) -> (50, 0)
  line L7 (0, -3) -> (0, 3)
  line L8 (0, -3) -> (0, 3) projected
  point P0 (-30.5, -47.5)
  point P1 (0, 0)
  point P2 (0, 0)
  dimension "d174" = 5
  dimension "d175" = 10
  dimension "d176" = 0.5
  dimension "d177" = 45
  dimension "d178" = 50
  dimension "d179" = 17
  dimension "d180" = 38.8229
properties part number "Adjustable universal mounting mechanism T615 Right"
